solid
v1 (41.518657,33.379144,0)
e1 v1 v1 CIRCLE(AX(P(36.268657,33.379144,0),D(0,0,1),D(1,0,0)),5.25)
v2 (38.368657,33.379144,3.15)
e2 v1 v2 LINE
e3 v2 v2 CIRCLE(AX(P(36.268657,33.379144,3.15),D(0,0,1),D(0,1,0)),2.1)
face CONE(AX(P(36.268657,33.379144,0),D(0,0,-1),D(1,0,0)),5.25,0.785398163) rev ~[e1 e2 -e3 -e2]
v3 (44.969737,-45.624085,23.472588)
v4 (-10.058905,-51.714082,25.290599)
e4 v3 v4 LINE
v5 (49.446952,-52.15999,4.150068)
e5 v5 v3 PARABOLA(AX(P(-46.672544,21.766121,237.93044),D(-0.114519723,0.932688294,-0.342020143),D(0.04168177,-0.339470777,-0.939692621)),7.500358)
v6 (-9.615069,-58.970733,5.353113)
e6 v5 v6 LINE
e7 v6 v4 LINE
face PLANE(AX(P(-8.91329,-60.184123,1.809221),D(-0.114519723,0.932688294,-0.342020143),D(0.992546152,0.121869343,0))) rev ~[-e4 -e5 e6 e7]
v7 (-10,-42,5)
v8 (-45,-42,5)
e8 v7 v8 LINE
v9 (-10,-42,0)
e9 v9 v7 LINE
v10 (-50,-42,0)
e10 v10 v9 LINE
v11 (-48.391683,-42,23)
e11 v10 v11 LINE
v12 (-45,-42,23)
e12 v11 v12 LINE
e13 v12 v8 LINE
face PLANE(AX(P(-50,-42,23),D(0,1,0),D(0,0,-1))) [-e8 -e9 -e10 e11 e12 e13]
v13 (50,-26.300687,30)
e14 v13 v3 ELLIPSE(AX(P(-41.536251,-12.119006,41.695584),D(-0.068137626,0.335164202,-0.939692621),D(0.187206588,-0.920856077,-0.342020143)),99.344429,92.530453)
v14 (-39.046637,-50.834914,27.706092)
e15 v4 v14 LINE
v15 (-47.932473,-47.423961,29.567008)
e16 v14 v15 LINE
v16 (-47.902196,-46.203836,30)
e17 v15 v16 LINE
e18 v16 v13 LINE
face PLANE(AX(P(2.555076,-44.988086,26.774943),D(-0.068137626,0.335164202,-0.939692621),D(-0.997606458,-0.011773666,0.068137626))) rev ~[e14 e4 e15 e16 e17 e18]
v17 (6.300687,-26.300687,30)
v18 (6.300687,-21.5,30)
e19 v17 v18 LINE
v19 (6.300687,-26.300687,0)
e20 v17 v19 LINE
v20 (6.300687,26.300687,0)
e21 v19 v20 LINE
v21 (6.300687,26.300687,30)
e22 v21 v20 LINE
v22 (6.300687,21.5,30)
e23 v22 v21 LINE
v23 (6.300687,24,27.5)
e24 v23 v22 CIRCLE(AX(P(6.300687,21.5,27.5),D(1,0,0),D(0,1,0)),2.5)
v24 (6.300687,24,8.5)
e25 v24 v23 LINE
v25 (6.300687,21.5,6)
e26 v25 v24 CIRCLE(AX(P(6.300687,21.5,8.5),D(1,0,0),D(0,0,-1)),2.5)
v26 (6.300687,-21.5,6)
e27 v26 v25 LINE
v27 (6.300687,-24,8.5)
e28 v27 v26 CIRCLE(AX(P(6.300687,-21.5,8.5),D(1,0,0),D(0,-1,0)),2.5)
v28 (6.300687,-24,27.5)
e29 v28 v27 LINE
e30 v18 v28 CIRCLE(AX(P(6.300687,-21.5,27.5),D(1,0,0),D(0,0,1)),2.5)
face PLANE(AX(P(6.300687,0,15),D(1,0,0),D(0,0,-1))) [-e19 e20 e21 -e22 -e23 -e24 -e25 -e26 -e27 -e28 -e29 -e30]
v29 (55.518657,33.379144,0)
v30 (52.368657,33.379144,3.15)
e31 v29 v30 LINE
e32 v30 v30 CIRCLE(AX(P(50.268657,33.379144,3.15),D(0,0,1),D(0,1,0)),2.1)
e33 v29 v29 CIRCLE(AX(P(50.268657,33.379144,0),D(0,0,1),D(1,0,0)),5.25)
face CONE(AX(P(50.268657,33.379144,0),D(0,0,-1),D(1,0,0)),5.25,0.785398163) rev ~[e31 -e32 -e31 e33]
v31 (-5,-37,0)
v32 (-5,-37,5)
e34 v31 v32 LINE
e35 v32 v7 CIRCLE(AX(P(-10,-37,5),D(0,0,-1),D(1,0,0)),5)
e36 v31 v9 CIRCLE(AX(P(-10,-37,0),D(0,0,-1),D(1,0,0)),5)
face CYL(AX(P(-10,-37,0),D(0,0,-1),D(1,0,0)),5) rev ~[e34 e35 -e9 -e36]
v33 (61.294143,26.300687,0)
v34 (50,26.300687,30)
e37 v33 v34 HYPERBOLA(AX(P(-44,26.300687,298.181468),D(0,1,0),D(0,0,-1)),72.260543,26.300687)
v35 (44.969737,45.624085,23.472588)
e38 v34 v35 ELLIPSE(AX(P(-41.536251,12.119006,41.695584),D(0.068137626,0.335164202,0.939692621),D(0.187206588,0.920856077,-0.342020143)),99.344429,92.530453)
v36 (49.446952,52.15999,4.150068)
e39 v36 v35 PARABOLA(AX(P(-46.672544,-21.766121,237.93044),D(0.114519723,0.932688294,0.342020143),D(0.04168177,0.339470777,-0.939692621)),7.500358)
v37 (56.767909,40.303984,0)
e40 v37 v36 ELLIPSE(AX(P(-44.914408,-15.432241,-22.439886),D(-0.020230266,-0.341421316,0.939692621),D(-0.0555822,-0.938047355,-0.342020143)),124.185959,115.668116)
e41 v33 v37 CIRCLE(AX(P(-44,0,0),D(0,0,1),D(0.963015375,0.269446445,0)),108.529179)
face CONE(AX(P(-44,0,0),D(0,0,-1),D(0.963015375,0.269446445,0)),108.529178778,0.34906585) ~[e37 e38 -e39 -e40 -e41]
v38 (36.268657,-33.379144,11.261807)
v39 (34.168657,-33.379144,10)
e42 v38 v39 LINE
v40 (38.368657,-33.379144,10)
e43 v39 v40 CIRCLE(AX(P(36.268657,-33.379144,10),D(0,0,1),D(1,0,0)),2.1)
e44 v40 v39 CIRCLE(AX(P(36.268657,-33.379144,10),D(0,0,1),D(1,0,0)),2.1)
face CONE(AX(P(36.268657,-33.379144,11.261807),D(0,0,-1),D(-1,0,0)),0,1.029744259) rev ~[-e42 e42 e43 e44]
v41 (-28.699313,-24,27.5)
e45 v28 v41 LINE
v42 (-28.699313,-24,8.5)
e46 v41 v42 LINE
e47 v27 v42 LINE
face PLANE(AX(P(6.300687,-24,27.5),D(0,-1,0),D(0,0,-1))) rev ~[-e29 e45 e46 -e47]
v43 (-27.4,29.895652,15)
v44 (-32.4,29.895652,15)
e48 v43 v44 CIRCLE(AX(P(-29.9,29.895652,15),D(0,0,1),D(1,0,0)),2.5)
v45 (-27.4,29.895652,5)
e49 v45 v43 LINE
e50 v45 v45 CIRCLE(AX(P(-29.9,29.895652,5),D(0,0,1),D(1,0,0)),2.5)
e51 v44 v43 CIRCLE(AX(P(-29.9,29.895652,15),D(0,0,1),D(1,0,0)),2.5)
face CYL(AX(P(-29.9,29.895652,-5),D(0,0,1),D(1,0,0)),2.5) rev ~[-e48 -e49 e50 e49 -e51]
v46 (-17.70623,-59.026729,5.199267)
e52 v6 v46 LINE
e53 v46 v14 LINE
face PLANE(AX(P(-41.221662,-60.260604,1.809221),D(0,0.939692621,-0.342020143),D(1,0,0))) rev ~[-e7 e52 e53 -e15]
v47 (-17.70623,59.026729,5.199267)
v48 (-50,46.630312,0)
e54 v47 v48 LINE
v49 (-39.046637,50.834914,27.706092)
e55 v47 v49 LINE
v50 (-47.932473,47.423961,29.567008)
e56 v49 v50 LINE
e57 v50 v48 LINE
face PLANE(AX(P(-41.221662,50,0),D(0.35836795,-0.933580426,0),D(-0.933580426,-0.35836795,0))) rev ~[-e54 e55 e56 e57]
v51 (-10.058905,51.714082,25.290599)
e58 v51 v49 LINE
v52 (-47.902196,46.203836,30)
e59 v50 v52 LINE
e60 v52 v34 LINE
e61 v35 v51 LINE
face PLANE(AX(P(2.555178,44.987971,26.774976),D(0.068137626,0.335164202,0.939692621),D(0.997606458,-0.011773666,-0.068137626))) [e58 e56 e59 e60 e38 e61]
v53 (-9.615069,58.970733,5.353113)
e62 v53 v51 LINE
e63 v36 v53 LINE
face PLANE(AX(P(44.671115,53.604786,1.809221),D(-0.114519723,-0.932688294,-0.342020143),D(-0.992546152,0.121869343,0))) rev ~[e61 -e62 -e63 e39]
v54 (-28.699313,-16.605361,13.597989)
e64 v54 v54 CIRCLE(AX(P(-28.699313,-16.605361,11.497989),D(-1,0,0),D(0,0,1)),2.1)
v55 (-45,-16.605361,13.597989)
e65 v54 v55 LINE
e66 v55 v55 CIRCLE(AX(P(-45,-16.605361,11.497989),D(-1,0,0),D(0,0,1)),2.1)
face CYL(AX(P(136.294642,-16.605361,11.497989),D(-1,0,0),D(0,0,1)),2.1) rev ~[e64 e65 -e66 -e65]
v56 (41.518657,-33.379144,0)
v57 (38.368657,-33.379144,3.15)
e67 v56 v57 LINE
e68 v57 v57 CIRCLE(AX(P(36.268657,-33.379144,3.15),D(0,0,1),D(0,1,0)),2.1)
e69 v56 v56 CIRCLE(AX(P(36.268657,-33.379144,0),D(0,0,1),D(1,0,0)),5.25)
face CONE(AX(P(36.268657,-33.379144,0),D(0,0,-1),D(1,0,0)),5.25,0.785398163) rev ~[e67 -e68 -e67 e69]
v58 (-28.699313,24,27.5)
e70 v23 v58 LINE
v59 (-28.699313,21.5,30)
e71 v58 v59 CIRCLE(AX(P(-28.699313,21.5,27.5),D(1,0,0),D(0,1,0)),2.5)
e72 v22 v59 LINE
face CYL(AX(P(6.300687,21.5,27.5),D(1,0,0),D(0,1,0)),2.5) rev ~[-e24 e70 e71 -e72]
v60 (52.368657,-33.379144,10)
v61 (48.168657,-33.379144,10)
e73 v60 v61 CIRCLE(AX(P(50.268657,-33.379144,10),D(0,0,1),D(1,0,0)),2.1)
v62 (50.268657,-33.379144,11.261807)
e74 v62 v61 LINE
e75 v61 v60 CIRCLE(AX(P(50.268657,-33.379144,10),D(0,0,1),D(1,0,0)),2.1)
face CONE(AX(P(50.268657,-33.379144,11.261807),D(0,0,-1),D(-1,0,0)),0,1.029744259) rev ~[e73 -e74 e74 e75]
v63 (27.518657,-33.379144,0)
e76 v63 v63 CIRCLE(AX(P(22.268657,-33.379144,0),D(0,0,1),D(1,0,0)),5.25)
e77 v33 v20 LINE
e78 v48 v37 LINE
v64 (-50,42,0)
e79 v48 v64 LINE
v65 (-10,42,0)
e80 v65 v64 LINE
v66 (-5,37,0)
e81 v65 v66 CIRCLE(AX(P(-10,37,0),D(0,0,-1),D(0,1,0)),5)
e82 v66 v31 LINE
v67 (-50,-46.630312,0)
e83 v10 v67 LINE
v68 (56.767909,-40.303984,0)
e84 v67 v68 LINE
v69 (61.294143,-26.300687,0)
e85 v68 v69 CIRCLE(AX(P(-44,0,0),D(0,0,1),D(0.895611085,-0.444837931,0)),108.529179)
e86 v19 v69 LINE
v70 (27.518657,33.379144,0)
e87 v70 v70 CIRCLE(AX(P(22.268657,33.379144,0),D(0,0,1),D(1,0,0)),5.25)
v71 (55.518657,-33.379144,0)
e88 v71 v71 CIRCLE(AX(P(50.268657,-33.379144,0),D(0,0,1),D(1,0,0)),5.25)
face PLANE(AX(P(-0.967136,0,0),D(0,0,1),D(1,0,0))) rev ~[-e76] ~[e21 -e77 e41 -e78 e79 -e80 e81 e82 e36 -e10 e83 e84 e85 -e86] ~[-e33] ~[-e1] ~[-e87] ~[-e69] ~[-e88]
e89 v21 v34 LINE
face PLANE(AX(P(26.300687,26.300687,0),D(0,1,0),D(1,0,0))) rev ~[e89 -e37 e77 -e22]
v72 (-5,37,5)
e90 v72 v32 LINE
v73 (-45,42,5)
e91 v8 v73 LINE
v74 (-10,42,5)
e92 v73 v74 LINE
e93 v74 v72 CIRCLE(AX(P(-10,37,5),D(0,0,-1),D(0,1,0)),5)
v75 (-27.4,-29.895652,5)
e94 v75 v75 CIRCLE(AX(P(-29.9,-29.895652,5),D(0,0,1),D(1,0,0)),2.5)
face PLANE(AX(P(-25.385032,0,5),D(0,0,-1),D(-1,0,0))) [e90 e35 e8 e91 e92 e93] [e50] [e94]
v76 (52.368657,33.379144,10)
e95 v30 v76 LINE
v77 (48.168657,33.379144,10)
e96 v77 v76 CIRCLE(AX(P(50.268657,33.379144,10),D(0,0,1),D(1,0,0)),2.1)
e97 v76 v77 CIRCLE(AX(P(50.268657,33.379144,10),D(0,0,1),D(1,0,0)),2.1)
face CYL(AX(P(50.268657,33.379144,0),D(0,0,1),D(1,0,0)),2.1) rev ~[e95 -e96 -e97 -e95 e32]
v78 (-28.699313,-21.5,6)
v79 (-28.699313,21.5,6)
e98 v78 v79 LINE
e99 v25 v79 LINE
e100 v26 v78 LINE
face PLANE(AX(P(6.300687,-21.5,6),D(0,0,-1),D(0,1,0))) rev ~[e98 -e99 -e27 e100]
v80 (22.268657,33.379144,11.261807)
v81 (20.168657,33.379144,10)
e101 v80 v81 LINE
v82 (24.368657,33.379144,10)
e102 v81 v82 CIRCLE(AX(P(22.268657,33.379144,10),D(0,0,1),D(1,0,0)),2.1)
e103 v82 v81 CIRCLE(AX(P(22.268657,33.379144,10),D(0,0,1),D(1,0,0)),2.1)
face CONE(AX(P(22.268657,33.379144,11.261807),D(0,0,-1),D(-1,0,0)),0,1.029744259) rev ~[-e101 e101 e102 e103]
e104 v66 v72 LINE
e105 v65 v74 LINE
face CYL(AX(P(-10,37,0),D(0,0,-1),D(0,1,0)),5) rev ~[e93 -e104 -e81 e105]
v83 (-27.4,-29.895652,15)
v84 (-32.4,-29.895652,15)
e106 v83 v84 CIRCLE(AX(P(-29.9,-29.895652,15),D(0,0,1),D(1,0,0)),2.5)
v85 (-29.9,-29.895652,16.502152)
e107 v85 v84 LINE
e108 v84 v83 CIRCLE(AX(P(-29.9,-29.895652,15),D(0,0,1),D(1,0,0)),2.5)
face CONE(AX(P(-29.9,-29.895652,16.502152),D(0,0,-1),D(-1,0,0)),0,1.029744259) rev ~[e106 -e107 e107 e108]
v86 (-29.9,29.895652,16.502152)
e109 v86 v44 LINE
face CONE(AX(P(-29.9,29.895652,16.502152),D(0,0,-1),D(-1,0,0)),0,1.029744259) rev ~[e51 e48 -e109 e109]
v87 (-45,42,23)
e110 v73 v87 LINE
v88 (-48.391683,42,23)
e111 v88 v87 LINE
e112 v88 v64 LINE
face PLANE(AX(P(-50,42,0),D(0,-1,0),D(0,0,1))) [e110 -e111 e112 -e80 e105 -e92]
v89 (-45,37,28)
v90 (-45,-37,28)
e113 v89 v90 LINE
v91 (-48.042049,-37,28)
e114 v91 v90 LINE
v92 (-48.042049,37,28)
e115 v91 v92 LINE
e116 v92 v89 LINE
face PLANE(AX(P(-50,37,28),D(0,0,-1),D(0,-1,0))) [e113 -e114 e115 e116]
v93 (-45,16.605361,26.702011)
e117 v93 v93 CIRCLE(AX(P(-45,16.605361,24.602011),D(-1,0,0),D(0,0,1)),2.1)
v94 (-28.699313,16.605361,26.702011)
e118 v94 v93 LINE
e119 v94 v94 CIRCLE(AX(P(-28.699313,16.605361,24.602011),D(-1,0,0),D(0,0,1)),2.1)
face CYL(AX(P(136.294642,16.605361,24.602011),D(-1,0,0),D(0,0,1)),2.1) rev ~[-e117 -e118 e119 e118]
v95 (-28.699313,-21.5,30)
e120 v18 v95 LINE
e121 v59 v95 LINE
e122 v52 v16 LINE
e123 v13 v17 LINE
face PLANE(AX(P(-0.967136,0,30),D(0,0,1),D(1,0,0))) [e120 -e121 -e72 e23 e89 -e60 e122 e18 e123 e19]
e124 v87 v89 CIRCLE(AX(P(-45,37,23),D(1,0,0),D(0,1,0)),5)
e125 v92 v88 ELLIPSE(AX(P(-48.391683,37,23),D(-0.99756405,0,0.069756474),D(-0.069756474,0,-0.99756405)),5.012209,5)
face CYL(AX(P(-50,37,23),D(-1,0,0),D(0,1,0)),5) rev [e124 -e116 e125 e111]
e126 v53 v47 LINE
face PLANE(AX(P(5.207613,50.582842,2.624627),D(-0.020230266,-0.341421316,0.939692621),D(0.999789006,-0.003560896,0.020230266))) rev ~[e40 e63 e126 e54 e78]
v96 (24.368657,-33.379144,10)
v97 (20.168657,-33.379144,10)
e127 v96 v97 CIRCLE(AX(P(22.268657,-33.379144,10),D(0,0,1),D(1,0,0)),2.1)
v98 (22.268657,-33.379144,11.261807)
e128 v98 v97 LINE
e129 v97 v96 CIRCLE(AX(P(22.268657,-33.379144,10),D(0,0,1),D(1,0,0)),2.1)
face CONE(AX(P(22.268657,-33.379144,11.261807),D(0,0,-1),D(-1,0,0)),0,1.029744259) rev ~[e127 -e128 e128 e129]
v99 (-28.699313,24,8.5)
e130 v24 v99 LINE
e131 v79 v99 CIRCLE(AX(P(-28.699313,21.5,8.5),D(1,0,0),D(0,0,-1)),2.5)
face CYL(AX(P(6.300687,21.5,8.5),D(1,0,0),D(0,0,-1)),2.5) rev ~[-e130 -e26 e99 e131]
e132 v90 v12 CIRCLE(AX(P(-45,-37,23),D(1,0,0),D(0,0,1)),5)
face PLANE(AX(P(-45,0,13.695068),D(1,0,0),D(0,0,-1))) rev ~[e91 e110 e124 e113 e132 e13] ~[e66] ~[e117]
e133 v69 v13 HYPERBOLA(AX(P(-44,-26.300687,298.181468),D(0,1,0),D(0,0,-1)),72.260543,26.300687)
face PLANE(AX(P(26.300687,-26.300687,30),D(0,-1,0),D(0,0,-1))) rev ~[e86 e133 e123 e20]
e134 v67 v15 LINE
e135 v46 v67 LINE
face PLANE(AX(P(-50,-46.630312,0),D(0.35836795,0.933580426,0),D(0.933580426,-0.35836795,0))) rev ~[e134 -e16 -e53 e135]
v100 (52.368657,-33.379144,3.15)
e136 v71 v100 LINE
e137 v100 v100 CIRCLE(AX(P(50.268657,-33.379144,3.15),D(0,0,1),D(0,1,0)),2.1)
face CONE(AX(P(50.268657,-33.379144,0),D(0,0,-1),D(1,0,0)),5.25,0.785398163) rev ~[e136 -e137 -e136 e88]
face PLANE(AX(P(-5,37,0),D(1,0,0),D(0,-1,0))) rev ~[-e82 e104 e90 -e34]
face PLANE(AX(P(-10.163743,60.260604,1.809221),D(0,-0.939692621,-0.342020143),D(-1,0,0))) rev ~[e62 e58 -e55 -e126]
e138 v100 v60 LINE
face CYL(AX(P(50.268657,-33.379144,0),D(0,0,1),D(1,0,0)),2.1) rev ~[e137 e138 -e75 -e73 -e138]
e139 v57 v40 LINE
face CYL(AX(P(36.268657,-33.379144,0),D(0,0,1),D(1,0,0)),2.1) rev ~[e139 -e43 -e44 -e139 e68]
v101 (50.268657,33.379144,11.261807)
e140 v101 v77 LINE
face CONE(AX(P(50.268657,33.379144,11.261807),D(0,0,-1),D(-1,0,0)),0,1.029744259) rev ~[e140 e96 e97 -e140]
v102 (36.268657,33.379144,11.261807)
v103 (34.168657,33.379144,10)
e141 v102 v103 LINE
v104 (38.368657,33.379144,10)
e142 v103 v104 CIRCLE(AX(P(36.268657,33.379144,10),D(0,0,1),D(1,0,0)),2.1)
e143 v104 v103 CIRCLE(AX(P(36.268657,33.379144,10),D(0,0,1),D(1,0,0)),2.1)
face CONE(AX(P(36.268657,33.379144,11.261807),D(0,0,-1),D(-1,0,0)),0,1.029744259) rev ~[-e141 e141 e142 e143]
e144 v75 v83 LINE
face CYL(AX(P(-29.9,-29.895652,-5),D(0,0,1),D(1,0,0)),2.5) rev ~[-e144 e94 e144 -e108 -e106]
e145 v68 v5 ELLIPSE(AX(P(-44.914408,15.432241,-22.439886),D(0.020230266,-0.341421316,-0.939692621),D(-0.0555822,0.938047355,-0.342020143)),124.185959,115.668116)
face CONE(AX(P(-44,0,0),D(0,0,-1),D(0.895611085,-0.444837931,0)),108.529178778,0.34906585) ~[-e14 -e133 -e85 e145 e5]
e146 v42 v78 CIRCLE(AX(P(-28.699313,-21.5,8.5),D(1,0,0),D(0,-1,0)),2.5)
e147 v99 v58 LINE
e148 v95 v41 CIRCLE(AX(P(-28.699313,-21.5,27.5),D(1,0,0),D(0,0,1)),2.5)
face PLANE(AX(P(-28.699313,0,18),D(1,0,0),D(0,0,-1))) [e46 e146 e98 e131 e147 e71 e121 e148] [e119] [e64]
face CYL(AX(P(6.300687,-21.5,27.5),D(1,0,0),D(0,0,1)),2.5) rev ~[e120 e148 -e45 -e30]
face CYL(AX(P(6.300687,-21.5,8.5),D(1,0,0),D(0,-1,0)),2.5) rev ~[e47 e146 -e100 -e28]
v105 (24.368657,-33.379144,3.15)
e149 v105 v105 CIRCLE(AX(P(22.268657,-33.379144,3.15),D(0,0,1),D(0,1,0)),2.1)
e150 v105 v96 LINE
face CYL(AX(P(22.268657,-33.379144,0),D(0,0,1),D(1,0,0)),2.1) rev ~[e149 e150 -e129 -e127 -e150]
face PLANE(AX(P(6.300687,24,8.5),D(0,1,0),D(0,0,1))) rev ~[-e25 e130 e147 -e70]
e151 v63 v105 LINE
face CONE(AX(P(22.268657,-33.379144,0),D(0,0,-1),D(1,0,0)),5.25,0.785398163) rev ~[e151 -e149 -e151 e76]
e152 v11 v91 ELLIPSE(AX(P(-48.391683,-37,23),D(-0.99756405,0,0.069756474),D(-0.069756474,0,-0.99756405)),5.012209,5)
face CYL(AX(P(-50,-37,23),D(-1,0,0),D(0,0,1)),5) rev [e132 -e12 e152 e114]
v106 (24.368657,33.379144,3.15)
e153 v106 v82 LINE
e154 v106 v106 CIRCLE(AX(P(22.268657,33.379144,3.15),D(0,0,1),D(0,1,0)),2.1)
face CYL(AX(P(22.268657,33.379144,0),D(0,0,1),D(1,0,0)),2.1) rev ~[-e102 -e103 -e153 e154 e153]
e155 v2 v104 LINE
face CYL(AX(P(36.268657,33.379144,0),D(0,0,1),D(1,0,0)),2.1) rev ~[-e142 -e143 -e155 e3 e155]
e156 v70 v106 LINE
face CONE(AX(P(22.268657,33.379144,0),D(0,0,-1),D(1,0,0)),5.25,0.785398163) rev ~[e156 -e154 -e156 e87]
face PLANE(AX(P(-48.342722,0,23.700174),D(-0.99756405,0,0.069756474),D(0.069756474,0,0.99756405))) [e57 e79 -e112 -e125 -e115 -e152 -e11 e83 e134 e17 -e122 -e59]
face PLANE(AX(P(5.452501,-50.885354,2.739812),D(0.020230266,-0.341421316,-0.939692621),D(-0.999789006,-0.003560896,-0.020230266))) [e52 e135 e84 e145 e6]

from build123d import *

# Parameters (mm, degrees)
BOSS_EXTRUDE1_DEPTH             = 30
SKETCH3_W                       = 30
SKETCH3_H                       = 52.601373674
CUT_EXTRUDE1_DEPTH              = 20
DRAFT1_ANGLE                    = 20
CUT_EXTRUDE2_DEPTH              = 5
CUT_EXTRUDE3_DEPTH              = 5
M6X1_0_TAPPED_HOLE1_D           = 5
M6X1_0_TAPPED_HOLE1_DEPTH       = 10
M6X1_0_TAPPED_HOLE1_TIP         = 1.502151548
CUT_REVOLVE1_ANGLE              = 20
CUT_REVOLVE2_ANGLE              = 20
CUT_REVOLVE3_ANGLE              = 20
CUT_REVOLVE4_ANGLE              = 20
CUT_EXTRUDE4_DEPTH              = 35
M5X0_8_TAPPED_HOLE1_D           = 4.2
SKETCH19_W                      = 47.516094142
SKETCH19_H                      = 117.781056104
CUT_REVOLVE5_ANGLE              = 4
M5X0_8_TAPPED_HOLE2_D           = 4.2
M5X0_8_TAPPED_HOLE2_DEPTH       = 10
M5X0_8_TAPPED_HOLE2_CSINK_D     = 10.5
M5X0_8_TAPPED_HOLE2_CSINK_ANGLE = 90
M5X0_8_TAPPED_HOLE2_TIP         = 1.2618073


with BuildPart() as part:
    # Sketch2 → Boss-Extrude1 (new body)
    with BuildSketch(Plane.XY):
        with BuildLine():
            Line((-41.221662469, 50), (-50, 46.630311934))
            Line((-50, 46.630311934), (-50, -46.630311934))
            Line((-50, -46.630311934), (-41.221662469, -50))
            Line((-41.221662469, -50), (-10.163742616, -50))
            Line((-10.163742616, -50), (43.420662363, -43.420662363))
            ThreePointArc((43.420662363, -43.420662363), (47.113322701, -35.015547326), (50, -26.300686837))
            Line((50, -26.300686837), (26.300686837, -26.300686837))
            Line((26.300686837, -26.300686837), (26.300686837, 26.300686837))
            Line((26.300686837, 26.300686837), (50, 26.300686837))
            ThreePointArc((50, 26.300686837), (47.113322701, 35.015547326), (43.420662363, 43.420662363))
            Line((43.420662363, 43.420662363), (-10.163742616, 50))
            Line((-10.163742616, 50), (-41.221662469, 50))
        make_face()
    extrude(amount=BOSS_EXTRUDE1_DEPTH)

    # Sketch3 → Cut-Extrude1 (cut)
    with BuildSketch(Plane(origin=(26.300686837, 0, 0), x_dir=(0, 0, -1), z_dir=(1, 0, 0))):
        with Locations((-15, 0)):
            Rectangle(SKETCH3_W, SKETCH3_H)
    extrude(amount=-CUT_EXTRUDE1_DEPTH, mode=Mode.SUBTRACT)

    # Draft1
    draft1_faces = [part.faces().sort_by_distance(p)[0] for p in [
        (-25.692702542, 50, 15),
        (16.628459874, 46.710331182, 15),
        (47.113322701, 35.015547326, 15),
        (47.113322701, -35.015547326, 15),
        (-25.692702542, -50, 15),
        (16.628459874, -46.710331182, 15),
    ]]
    draft(draft1_faces, Plane.XY.offset(30), DRAFT1_ANGLE)

    # Sketch5 → Cut-Extrude2 (cut)
    with BuildSketch(Plane.ZY.offset(50)):
        with BuildLine():
            Line((0, 42), (23, 42))
            ThreePointArc((23, 42), (26.535533906, 40.535533906), (28, 37))
            Line((28, 37), (28, -37))
            ThreePointArc((28, -37), (26.535533906, -40.535533906), (23, -42))
            Line((23, -42), (0, -42))
            Line((0, -42), (0, 42))
        make_face()
    extrude(amount=-CUT_EXTRUDE2_DEPTH, mode=Mode.SUBTRACT)

    # Sketch6 → Cut-Extrude3 (cut)
    with BuildSketch(Plane(origin=(0, 0, 0), x_dir=(-1, 0, 0), z_dir=(0, 0, -1))):
        with BuildLine():
            Line((45, 42), (10, 42))
            ThreePointArc((10, 42), (6.464466094, 40.535533906), (5, 37))
            Line((5, 37), (5, -37))
            ThreePointArc((5, -37), (6.464466094, -40.535533906), (10, -42))
            Line((10, -42), (45, -42))
            Line((45, -42), (45, 42))
        make_face()
    extrude(amount=-CUT_EXTRUDE3_DEPTH, mode=Mode.SUBTRACT)

    # M6x1.0 Tapped Hole1
    with Locations(Plane(origin=(0, 0, 5), x_dir=(-1, 0, 0), z_dir=(0, 0, -1))):
        with Locations((29.9, 29.895651858), (29.9, -29.895651858)):
            Hole(M6X1_0_TAPPED_HOLE1_D / 2, depth=M6X1_0_TAPPED_HOLE1_DEPTH)
            with Locations((0, 0, -(M6X1_0_TAPPED_HOLE1_DEPTH + M6X1_0_TAPPED_HOLE1_TIP / 2))):  # 118° drill point
                Cone(0, M6X1_0_TAPPED_HOLE1_D / 2, M6X1_0_TAPPED_HOLE1_TIP, mode=Mode.SUBTRACT)

    # Sketch9 → Cut-Revolve1 (revolve, cut)
    with BuildSketch(Plane(origin=(0, 0, 0), x_dir=(-1, 0, 0), z_dir=(0, 0, -1))):
        with BuildLine():
            Line((50, 46.630311934), (-56.76790933, 40.30398391))
            ThreePointArc((-56.76790933, 40.30398391), (-54.419330105, 48.540812289), (-51.472316128, 56.582968389))
            Line((-51.472316128, 56.582968389), (18.167108014, 64.912852718))
            Line((18.167108014, 64.912852718), (50, 46.630311934))
        make_face()
    revolve(axis=Axis((-50, 46.630311934, 0), (0.9982491449473906, -0.0591493416007627, 0)), revolution_arc=CUT_REVOLVE1_ANGLE, mode=Mode.SUBTRACT)

    # Sketch11 → Cut-Revolve2 (revolve, cut)
    with BuildSketch(Plane(origin=(0, 0, 0), x_dir=(-1, 0, 0), z_dir=(0, 0, -1))):
        with BuildLine():
            Line((50, -46.630311934), (-56.76790933, -40.30398391))
            ThreePointArc((-56.76790933, -40.30398391), (-55.407295575, -48.597993011), (-53.453959647, -56.772730652))
            Line((-53.453959647, -56.772730652), (21.223580117, -65.428953237))
            Line((21.223580117, -65.428953237), (50, -46.630311934))
        make_face()
    revolve(axis=Axis((-50, -46.630311934, 0), (-0.9982491449473906, -0.05914934160076277, 0)), revolution_arc=CUT_REVOLVE2_ANGLE, mode=Mode.SUBTRACT)

    # Sketch13 → Cut-Revolve3 (revolve, cut)
    with BuildSketch(Plane.XY.offset(30)):
        Polygon((-50, 46.630311934), (50, 26.300686837), (49.446951964, 52.159989852), (-50, 58.994858097), align=None)
    revolve(axis=Axis((-50, 46.630311934, 30), (-0.9799545689980745, 0.1992210899975155, 0)), revolution_arc=CUT_REVOLVE3_ANGLE, mode=Mode.SUBTRACT)

    # Sketch14 → Cut-Revolve4 (revolve, cut)
    with BuildSketch(Plane.XY.offset(30)):
        Polygon((50, -26.300686837), (49.446951964, -52.159989852), (-50, -58.995311934), (-50, -46.630311934), align=None)
    revolve(axis=Axis((50, -26.300686837, 30), (0.9799545689980745, 0.1992210899975155, 0)), revolution_arc=CUT_REVOLVE4_ANGLE, mode=Mode.SUBTRACT)

    # Sketch15 → Cut-Extrude4 (cut)
    with BuildSketch(Plane(origin=(6.300686837, 0, 0), x_dir=(0, 0, -1), z_dir=(1, 0, 0))):
        with BuildLine():
            Line((-30, 0), (-30, -21.5))
            ThreePointArc((-30, -21.5), (-29.267766953, -23.267766953), (-27.5, -24))
            Line((-27.5, -24), (-8.5, -24))
            ThreePointArc((-8.5, -24), (-6.732233047, -23.267766953), (-6, -21.5))
            Line((-6, -21.5), (-6, 21.5))
            ThreePointArc((-6, 21.5), (-6.732233047, 23.267766953), (-8.5, 24))
            Line((-8.5, 24), (-27.5, 24))
            ThreePointArc((-27.5, 24), (-29.267766953, 23.267766953), (-30, 21.5))
            Line((-30, 21.5), (-30, 0))
        make_face()
    extrude(amount=-CUT_EXTRUDE4_DEPTH, mode=Mode.SUBTRACT)

    # M5x0.8 Tapped Hole1 (through all)
    with Locations(Plane(origin=(-28.699313163, 0, 0), x_dir=(0, 0, -1), z_dir=(1, 0, 0))):
        with Locations((-11.497988924, -16.605361405), (-24.602011076, 16.605361405)):
            Hole(M5X0_8_TAPPED_HOLE1_D / 2)

    # Sketch19 → Cut-Revolve5 (revolve, cut)
    with BuildSketch(Plane.ZY.offset(50)):
        with Locations((23.758047071, 0)):
            Rectangle(SKETCH19_W, SKETCH19_H)
    revolve(axis=Axis((-50, 58.890528052, 0), (0, 1, 0)), revolution_arc=CUT_REVOLVE5_ANGLE, mode=Mode.SUBTRACT)

    # M5x0.8 Tapped Hole2
    with Locations(Plane(origin=(0, 0, 0), x_dir=(-1, 0, 0), z_dir=(0, 0, -1))):
        with Locations((-50.268656574, 33.379143774), (-50.268656574, -33.379143774), (-36.268656574, -33.379143774), (-22.268656574, -33.379143774), (-36.268656574, 33.379143774), (-22.268656574, 33.379143774)):
            CounterSinkHole(M5X0_8_TAPPED_HOLE2_D / 2, M5X0_8_TAPPED_HOLE2_CSINK_D / 2, depth=M5X0_8_TAPPED_HOLE2_DEPTH, counter_sink_angle=M5X0_8_TAPPED_HOLE2_CSINK_ANGLE)
            with Locations((0, 0, -(M5X0_8_TAPPED_HOLE2_DEPTH + M5X0_8_TAPPED_HOLE2_TIP / 2))):  # 118° drill point
                Cone(0, M5X0_8_TAPPED_HOLE2_D / 2, M5X0_8_TAPPED_HOLE2_TIP, mode=Mode.SUBTRACT)


solid = part.part
